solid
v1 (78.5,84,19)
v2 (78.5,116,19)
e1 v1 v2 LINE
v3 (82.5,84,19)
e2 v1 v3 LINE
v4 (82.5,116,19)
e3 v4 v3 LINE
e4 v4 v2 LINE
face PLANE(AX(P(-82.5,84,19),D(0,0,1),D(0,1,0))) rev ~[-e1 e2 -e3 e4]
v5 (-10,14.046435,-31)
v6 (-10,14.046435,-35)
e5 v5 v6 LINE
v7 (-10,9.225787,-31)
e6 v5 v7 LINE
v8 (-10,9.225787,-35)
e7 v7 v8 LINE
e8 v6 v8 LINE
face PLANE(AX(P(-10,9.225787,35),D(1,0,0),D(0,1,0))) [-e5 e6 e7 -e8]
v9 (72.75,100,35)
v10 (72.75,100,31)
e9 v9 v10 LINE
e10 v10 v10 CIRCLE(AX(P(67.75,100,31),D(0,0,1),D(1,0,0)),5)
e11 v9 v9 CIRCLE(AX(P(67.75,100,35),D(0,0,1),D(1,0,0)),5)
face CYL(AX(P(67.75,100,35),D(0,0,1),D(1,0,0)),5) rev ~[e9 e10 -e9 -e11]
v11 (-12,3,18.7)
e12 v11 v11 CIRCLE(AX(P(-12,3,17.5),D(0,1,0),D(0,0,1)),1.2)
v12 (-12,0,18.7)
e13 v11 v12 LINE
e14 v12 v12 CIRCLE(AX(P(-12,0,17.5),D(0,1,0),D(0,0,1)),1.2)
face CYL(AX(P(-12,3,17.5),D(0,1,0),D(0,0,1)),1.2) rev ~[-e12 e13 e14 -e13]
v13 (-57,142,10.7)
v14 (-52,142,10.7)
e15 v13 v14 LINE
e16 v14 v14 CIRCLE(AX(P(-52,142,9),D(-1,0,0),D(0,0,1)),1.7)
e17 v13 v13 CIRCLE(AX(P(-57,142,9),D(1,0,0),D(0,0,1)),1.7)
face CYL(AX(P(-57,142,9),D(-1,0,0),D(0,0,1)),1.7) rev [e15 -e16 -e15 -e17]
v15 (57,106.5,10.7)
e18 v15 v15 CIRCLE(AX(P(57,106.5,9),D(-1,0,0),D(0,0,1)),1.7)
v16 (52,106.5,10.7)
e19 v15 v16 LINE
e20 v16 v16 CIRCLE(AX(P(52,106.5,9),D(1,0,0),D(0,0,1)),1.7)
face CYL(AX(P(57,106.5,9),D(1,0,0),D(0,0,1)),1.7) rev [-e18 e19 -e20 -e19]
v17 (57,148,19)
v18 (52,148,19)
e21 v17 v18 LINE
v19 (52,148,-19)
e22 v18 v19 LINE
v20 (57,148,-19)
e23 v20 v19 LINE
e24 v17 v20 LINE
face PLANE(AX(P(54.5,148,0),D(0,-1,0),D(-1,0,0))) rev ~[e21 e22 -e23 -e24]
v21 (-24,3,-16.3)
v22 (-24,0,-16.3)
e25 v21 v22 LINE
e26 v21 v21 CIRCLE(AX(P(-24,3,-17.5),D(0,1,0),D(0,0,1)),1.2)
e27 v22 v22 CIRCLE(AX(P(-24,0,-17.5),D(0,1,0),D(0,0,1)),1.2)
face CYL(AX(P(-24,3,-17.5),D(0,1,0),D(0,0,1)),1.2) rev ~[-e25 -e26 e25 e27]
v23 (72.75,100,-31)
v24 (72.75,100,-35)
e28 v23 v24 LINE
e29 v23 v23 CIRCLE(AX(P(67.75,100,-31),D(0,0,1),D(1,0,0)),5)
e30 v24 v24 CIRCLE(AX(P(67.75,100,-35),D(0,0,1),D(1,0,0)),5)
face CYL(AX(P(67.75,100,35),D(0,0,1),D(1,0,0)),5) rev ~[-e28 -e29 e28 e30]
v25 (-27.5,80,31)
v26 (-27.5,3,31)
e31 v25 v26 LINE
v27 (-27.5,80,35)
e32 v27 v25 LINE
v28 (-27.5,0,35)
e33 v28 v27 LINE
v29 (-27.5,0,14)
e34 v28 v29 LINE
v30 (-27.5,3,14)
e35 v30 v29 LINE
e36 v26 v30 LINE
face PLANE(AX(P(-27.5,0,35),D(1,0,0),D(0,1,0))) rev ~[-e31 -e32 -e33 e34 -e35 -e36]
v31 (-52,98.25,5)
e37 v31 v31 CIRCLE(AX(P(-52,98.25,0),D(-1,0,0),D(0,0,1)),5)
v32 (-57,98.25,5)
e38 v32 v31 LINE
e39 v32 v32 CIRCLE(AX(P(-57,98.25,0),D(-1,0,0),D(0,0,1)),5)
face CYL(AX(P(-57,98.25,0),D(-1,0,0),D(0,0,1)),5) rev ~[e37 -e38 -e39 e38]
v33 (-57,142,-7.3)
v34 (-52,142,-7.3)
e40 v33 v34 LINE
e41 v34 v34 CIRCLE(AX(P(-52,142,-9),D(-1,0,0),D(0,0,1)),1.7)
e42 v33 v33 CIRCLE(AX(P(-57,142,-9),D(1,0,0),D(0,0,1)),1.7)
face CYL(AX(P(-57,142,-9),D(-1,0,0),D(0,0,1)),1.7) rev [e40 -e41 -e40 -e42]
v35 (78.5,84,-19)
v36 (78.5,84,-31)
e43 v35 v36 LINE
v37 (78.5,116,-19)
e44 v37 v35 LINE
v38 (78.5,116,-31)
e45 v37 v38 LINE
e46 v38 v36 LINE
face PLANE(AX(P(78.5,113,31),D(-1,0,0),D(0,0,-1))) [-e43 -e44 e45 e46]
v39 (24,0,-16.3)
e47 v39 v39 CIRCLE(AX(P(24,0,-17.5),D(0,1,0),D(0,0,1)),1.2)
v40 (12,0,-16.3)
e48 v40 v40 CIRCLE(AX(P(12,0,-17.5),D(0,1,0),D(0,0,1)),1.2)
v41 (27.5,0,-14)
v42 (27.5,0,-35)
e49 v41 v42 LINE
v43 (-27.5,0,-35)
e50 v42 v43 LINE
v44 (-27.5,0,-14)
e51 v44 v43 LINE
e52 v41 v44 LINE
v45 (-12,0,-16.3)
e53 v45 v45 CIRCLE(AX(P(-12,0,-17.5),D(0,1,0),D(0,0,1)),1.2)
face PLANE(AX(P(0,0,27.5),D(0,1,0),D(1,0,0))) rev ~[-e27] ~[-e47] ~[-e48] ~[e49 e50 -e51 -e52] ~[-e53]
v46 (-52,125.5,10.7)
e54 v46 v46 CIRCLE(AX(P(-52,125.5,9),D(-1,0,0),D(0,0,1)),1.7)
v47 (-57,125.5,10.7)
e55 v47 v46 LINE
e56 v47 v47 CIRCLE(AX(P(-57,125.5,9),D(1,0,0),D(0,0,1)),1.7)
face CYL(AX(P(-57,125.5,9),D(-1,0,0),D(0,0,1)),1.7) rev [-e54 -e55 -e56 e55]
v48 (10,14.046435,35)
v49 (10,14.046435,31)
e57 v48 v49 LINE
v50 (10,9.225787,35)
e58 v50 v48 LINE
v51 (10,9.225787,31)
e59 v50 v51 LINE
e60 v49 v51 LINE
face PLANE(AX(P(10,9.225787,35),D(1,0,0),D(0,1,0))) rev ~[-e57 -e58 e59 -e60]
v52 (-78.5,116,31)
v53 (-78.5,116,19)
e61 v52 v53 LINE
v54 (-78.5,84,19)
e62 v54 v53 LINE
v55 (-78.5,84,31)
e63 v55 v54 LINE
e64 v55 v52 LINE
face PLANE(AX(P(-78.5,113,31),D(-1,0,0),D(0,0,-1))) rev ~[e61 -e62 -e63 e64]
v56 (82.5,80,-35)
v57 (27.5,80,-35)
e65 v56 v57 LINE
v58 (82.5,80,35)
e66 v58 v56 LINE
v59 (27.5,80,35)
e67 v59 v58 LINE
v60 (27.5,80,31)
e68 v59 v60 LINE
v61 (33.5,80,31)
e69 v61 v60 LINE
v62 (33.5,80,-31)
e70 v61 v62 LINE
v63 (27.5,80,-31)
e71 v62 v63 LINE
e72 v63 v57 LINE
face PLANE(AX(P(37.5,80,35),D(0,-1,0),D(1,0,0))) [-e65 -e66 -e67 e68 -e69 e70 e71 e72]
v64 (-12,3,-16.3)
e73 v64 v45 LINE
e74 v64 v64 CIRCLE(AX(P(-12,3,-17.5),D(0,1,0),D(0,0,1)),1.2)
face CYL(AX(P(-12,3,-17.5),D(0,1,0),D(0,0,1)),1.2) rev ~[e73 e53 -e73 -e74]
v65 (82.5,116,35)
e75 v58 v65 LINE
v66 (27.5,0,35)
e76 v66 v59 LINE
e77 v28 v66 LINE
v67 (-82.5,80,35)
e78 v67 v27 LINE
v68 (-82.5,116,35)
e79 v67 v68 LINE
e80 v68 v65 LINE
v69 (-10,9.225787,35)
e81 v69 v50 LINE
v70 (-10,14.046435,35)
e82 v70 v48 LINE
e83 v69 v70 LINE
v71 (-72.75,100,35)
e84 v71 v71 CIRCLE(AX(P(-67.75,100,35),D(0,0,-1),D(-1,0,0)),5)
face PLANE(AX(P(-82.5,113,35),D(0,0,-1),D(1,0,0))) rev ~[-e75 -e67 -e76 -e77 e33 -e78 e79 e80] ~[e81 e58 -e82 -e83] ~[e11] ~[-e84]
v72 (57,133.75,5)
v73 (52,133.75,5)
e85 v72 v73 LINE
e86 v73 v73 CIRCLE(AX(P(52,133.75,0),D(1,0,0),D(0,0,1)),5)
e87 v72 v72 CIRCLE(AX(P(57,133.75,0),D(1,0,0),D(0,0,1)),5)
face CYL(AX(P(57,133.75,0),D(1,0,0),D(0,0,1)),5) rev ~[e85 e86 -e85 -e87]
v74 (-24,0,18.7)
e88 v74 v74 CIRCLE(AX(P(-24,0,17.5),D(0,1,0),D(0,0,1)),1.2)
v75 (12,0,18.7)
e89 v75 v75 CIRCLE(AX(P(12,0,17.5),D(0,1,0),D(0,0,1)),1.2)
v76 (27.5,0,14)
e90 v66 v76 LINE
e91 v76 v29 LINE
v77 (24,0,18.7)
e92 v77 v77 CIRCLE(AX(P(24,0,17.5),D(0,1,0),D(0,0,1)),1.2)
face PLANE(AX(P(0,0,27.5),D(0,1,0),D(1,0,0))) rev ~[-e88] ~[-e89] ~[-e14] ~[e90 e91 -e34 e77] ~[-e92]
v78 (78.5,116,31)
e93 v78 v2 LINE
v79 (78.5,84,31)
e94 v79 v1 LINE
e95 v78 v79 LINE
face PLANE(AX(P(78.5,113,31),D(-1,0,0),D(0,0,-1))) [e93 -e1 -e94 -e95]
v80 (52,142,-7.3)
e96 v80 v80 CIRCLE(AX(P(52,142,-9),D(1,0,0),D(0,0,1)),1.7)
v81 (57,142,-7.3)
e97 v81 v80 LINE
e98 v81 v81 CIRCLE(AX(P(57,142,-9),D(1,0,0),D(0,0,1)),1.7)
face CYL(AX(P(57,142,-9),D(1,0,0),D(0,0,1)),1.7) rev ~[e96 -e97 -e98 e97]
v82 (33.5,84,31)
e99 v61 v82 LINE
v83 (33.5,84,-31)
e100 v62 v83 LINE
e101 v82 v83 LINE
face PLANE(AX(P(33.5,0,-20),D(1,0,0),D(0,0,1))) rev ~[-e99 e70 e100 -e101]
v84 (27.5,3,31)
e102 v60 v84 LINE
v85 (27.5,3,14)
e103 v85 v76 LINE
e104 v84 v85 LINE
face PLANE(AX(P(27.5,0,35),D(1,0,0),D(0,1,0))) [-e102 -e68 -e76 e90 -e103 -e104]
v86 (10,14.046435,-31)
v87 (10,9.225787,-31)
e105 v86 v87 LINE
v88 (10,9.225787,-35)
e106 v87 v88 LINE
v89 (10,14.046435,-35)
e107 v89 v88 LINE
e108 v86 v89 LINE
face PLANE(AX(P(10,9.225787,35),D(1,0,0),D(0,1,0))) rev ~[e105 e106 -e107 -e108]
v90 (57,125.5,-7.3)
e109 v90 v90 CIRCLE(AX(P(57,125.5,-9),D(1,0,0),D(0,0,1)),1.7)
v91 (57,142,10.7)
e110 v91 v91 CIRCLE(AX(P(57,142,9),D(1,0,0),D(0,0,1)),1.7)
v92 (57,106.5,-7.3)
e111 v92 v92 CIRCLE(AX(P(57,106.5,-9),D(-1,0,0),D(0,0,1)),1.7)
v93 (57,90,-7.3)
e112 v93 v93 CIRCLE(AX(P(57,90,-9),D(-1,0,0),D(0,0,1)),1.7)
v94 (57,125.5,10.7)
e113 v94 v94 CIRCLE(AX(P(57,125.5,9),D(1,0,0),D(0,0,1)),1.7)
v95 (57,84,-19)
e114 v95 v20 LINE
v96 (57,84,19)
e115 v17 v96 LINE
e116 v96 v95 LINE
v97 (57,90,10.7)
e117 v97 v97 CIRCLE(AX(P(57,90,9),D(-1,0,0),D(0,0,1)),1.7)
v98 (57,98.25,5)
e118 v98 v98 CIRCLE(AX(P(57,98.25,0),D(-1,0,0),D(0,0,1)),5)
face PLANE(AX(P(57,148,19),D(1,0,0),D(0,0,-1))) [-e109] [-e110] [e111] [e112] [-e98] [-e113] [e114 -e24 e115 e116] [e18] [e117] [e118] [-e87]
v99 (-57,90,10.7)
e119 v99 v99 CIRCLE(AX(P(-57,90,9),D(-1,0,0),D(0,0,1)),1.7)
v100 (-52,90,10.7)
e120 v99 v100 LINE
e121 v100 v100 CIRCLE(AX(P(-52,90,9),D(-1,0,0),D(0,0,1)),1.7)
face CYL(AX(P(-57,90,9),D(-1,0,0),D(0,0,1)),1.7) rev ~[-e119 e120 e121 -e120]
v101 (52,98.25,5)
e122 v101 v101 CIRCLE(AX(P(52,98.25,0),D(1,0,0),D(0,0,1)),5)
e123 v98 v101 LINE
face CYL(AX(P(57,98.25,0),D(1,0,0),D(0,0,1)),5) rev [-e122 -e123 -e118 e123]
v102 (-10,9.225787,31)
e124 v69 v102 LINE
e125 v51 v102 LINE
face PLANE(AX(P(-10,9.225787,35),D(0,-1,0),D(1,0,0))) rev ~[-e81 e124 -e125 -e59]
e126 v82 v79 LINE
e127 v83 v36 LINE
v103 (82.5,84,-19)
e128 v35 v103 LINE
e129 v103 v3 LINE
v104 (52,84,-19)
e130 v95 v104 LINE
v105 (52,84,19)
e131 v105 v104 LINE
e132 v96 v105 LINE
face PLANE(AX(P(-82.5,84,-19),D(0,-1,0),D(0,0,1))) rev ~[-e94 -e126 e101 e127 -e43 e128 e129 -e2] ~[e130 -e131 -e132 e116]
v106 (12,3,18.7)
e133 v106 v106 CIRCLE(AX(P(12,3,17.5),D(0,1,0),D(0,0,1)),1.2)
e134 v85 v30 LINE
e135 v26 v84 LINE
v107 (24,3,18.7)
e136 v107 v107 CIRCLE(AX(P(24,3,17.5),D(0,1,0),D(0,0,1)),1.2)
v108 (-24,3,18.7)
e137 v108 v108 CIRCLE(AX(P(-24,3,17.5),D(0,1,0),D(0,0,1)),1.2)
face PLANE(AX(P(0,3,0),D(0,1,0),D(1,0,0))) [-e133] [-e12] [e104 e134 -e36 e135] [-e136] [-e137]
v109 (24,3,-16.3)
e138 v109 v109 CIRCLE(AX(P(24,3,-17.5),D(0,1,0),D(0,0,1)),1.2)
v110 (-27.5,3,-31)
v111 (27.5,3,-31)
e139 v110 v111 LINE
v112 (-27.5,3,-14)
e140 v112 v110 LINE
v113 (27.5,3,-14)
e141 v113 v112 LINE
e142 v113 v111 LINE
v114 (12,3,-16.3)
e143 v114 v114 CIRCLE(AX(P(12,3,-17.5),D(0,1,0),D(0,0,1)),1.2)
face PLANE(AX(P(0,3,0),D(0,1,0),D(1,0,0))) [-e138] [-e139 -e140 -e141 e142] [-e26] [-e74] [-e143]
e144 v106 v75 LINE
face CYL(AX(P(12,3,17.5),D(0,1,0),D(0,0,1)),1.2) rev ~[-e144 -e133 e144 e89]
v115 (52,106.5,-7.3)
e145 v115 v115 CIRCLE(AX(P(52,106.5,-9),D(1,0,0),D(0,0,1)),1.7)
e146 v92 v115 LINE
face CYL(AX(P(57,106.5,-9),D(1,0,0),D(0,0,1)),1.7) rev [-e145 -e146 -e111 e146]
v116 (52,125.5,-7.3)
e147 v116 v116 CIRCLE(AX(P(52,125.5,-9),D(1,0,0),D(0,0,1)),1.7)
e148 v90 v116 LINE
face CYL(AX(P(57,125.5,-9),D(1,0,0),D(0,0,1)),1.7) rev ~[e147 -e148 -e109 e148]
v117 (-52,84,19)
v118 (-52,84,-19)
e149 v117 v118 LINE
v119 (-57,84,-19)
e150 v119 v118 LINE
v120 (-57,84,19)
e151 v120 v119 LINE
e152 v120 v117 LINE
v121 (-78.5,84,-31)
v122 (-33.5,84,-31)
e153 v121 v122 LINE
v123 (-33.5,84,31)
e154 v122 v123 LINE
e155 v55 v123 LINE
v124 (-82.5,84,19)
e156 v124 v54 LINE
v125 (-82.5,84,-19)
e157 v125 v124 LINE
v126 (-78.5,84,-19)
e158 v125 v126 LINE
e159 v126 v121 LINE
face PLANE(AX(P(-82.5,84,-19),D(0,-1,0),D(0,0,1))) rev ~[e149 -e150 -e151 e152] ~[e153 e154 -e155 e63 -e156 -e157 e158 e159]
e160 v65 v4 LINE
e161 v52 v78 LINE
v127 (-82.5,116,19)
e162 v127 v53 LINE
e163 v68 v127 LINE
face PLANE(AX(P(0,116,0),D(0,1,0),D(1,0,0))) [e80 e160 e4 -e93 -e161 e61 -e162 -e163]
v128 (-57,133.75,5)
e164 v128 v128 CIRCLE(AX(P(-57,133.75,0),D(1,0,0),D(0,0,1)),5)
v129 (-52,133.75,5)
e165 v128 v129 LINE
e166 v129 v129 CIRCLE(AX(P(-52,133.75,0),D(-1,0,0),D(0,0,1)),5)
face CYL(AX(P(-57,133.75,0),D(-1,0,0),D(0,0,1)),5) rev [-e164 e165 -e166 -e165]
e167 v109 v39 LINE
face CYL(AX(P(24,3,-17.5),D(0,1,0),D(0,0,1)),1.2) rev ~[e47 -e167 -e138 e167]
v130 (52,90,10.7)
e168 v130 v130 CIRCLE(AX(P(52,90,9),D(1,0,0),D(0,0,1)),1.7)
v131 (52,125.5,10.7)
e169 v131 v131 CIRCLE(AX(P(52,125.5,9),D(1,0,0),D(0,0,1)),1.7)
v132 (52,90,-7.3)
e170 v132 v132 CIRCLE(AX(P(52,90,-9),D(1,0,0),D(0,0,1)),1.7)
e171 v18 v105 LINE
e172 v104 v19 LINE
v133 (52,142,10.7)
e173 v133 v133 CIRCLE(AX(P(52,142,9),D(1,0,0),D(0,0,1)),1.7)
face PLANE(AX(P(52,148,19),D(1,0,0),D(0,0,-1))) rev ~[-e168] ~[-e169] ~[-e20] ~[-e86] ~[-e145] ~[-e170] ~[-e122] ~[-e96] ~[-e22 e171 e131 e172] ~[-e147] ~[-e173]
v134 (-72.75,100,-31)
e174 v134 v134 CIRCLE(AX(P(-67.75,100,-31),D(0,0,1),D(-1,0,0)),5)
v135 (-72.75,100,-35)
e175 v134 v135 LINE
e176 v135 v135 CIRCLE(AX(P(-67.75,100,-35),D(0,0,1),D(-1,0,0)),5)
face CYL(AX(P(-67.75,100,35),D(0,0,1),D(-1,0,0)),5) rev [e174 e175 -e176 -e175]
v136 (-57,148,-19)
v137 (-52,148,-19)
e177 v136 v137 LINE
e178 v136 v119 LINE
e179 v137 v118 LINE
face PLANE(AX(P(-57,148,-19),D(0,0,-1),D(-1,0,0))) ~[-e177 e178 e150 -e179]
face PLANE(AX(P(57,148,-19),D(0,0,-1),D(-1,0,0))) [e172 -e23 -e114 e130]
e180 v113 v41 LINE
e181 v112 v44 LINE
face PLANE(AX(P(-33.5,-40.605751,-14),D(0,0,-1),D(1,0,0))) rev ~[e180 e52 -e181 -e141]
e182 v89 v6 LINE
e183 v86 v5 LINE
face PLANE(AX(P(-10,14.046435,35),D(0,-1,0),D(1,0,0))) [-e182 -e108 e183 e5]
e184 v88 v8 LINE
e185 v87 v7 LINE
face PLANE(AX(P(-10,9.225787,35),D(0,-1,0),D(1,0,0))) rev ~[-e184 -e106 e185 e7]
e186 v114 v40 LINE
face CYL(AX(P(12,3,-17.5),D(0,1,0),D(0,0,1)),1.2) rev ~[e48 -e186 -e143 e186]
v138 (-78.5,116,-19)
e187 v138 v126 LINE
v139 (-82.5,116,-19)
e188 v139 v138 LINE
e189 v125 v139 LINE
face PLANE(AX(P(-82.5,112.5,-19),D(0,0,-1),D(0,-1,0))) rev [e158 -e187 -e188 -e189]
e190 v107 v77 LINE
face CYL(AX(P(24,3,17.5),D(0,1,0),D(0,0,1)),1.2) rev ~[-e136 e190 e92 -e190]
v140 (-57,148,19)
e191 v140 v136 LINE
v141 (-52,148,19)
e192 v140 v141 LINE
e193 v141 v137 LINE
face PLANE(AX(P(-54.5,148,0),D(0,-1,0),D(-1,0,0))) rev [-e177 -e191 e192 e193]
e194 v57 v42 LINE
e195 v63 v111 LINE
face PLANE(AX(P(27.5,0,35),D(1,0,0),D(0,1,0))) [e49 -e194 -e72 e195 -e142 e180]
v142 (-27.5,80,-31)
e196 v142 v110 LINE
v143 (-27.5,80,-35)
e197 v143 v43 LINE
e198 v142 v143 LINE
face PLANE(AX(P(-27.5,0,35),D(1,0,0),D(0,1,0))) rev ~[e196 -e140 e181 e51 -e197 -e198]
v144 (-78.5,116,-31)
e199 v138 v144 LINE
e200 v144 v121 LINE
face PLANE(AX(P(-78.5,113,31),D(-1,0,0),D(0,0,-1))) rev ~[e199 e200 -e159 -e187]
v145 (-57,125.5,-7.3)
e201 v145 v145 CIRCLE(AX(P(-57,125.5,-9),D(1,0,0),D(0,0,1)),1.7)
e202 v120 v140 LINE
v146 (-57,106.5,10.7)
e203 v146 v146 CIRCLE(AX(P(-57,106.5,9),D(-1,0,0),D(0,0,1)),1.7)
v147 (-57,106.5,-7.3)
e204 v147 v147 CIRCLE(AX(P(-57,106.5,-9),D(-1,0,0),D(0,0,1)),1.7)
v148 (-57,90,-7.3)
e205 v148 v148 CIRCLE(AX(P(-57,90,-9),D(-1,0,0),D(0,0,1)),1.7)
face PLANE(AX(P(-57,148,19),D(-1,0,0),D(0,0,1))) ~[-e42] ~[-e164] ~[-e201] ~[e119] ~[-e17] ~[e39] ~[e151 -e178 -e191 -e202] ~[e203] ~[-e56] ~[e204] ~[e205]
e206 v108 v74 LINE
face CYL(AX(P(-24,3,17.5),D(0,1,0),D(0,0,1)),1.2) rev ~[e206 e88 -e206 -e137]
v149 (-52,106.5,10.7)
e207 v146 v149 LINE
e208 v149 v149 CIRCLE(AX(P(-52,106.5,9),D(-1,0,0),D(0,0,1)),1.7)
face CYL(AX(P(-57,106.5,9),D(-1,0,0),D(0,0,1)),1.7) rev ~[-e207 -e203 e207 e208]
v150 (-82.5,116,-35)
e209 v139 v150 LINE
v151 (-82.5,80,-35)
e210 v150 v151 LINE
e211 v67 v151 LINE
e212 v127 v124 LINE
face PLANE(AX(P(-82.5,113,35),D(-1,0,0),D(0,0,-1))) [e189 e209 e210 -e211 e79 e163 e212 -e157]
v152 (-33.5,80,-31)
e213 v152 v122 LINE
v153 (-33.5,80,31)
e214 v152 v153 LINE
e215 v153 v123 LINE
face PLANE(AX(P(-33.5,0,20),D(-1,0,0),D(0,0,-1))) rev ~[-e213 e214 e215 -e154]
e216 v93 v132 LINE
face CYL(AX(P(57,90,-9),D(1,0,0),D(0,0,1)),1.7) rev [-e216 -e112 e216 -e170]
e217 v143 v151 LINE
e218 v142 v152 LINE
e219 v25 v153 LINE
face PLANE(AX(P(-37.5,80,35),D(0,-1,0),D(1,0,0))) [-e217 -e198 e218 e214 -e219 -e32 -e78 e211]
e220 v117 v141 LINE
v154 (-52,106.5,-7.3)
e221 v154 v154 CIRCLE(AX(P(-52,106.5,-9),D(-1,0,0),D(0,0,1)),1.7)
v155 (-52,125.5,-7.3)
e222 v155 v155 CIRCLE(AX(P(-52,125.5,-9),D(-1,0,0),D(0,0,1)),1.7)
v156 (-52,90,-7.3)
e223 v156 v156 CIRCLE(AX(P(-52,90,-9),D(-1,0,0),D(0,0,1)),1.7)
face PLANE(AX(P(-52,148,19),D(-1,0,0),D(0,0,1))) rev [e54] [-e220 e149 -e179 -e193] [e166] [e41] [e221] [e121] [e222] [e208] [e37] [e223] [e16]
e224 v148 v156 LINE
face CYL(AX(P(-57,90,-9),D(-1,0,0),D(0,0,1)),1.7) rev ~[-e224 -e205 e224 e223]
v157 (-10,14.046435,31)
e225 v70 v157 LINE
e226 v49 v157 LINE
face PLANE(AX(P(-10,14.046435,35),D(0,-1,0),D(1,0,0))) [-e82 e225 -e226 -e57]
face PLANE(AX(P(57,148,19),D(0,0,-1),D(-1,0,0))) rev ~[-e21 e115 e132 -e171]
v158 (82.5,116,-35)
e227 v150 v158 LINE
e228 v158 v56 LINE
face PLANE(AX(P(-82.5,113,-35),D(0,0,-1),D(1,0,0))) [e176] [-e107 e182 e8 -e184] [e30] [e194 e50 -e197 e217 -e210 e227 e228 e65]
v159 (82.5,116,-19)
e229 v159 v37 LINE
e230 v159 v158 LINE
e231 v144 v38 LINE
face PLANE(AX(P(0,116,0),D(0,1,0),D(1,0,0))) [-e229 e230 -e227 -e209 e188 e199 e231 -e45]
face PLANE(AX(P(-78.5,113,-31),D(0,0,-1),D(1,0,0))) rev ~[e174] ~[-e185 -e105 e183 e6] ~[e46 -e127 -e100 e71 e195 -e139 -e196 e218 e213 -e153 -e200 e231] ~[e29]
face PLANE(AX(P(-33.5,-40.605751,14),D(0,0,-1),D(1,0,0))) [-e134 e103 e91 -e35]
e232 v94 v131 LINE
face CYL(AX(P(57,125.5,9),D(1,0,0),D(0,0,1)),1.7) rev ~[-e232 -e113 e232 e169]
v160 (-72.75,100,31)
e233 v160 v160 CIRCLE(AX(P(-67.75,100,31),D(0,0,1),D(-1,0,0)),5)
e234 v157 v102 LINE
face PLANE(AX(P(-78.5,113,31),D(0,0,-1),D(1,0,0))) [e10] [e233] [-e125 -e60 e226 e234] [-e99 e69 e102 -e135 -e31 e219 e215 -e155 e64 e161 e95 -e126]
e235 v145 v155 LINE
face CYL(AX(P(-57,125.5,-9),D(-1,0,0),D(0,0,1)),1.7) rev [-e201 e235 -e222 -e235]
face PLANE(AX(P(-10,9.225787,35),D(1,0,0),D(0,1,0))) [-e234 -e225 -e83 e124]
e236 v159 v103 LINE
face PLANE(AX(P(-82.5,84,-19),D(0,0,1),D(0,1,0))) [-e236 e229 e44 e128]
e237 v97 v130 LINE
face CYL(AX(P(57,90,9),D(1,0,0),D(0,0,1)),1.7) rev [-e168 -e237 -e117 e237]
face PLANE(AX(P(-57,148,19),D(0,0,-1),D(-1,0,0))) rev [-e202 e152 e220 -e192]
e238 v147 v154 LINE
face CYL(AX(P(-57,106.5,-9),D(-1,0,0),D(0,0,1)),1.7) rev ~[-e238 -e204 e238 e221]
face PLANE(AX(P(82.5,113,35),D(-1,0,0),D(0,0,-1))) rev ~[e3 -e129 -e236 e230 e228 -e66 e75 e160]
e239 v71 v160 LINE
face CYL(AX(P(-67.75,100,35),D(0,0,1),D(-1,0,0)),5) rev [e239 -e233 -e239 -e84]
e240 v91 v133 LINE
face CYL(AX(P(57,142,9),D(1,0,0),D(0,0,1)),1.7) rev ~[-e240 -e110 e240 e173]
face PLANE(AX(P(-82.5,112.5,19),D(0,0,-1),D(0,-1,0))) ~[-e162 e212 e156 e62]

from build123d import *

# Parameters (mm, degrees)
SKETCH1_W                 = 75
SKETCH1_H                 = 40
SKETCH1_R                 = 5
SKETCH1_R_2               = 1.7
SKETCH1_W_2               = 10
SKETCH1_H_2               = 20
BOSS_EXTRUDE1_DEPTH       = 3
CUT_EXTRUDE1_DEPTH        = 43.605750786
CUT_EXTRUDE1_DEPTH_BACK   = 43.605750786
SKETCH2_W                 = 67
SKETCH2_H                 = 28
BOSS_EXTRUDE3_DEPTH       = 110
BOSS_EXTRUDE3_DEPTH_BACK  = 3
SKETCH6_W                 = 67
SKETCH6_H                 = 11
CUT_EXTRUDE4_DEPTH        = 122.372360939
SKETCH7_W                 = 70
SKETCH7_H                 = 37
BOSS_EXTRUDE4_DEPTH       = 45
SKETCH8_W                 = 45
SKETCH8_H                 = 62
CUT_EXTRUDE6_DEPTH        = 29
SKETCH11_W                = 45
SKETCH11_H                = 4
CUT_EXTRUDE9_DEPTH        = 157.445677473
SKETCH9_W                 = 38
SKETCH9_H                 = 28.5
CUT_EXTRUDE10_DEPTH       = 204.024629048
SKETCH13_W                = 5
SKETCH13_H                = 38
BOSS_EXTRUDE5_DEPTH       = 32
SKETCH14_R                = 5
SKETCH14_R_2              = 1.7
CUT_EXTRUDE11_DEPTH       = 32
SKETCH15_W                = 165
SKETCH15_H                = 70
SKETCH15_W_2              = 157
SKETCH15_H_2              = 62
BOSS_EXTRUDE6_DEPTH       = 3
SKETCH16_W                = 20
SKETCH16_H                = 4.820648258
CUT_EXTRUDE12_DEPTH       = 159.626132778
SKETCH18_R                = 5
CUT_EXTRUDE14_DEPTH       = 159.626132778
MIRROR6_COPY_1_SKETCH_W   = 5
MIRROR6_COPY_1_SKETCH_H   = 38
MIRROR6_COPY_1_DEPTH      = 32
MIRROR6_COPY_2_SKETCH_R   = 5
MIRROR6_COPY_2_SKETCH_R_2 = 1.7
MIRROR6_COPY_2_DEPTH      = 32
SKETCH19_W                = 38
SKETCH19_H                = 3.5
CUT_EXTRUDE15_DEPTH       = 10
SKETCH20_R                = 1.2
CUT_EXTRUDE16_DEPTH       = 10
SKETCH21_W                = 10
SKETCH21_H                = 80
CUT_EXTRUDE17_DEPTH       = 184.330984833


with BuildPart() as part:
    # Sketch1 → Boss-Extrude1 (new body)
    with BuildSketch(Plane(origin=(0, 0, 0), x_dir=(1, 0, 0), z_dir=(0, 1, 0))):
        Rectangle(SKETCH1_W, SKETCH1_H)
        with Locations(Location((-21, 0, 0), (0, 0, 270))):
            Circle(SKETCH1_R, mode=Mode.SUBTRACT)
        with Locations(Location((-30, 8.25, 0), (0, 0, 270))):
            Circle(SKETCH1_R_2, mode=Mode.SUBTRACT)
        with Locations(Location((-12, 8.25, 0), (0, 0, 270))):
            Circle(SKETCH1_R_2, mode=Mode.SUBTRACT)
        with Locations(Location((-12, -8.25, 0), (0, 0, 270))):
            Circle(SKETCH1_R_2, mode=Mode.SUBTRACT)
        with Locations(Location((-30, -8.25, 0), (0, 0, 270))):
            Circle(SKETCH1_R_2, mode=Mode.SUBTRACT)
        with Locations(Location((12, 8.25, 0), (0, 0, 90))):
            Circle(SKETCH1_R_2, mode=Mode.SUBTRACT)
        with Locations(Location((12, -8.25, 0), (0, 0, 90))):
            Circle(SKETCH1_R_2, mode=Mode.SUBTRACT)
        with Locations(Location((21, 0, 0), (0, 0, 90))):
            Circle(SKETCH1_R, mode=Mode.SUBTRACT)
        with Locations(Location((30, -8.25, 0), (0, 0, 90))):
            Circle(SKETCH1_R_2, mode=Mode.SUBTRACT)
        with Locations(Location((30, 8.25, 0), (0, 0, 90))):
            Circle(SKETCH1_R_2, mode=Mode.SUBTRACT)
        Rectangle(SKETCH1_W_2, SKETCH1_H_2, mode=Mode.SUBTRACT)
    extrude(amount=BOSS_EXTRUDE1_DEPTH)

    # Sketch2 → Cut-Extrude1 (cut, two sides: drawn at the far end of the back side and taken through both)
    with BuildSketch(Plane(origin=(0, 3, 0), x_dir=(1, 0, 0), z_dir=(0, 1, 0)).offset(-CUT_EXTRUDE1_DEPTH_BACK)):
        Rectangle(SKETCH2_W, SKETCH2_H)
    extrude(amount=CUT_EXTRUDE1_DEPTH + CUT_EXTRUDE1_DEPTH_BACK, mode=Mode.SUBTRACT)

    # Sketch3 → Boss-Extrude3 (add, two sides: drawn at the far end of the back side and taken through both)
    with BuildSketch(Plane(origin=(0, 3, 0), x_dir=(1, 0, 0), z_dir=(0, 1, 0)).offset(-BOSS_EXTRUDE3_DEPTH_BACK)):
        Polygon((37.5, -35), (37.5, -20), (33.5, -20), (-33.5, -20), (-37.5, -20), (-37.5, -35), align=None)
        Polygon((33.5, 20), (37.5, 20), (37.5, 35), (-37.5, 35), (-37.5, 20), (-33.5, 20), align=None)
        Polygon((37.5, -20), (37.5, 20), (33.5, 20), (33.5, 14), (33.5, -14), (33.5, -20), align=None)
        Polygon((-33.5, 14), (-33.5, 20), (-37.5, 20), (-37.5, -20), (-33.5, -20), (-33.5, -14), align=None)
    extrude(amount=BOSS_EXTRUDE3_DEPTH + BOSS_EXTRUDE3_DEPTH_BACK)

    # Sketch6 → Cut-Extrude4 (cut, through all)
    with BuildSketch(Plane(origin=(0, 3, 0), x_dir=(1, 0, 0), z_dir=(0, 1, 0))):
        with Locations((0, -25.5)):
            Rectangle(SKETCH6_W, SKETCH6_H)
        with Locations((0, 25.5)):
            Rectangle(SKETCH6_W, SKETCH6_H)
    extrude(amount=CUT_EXTRUDE4_DEPTH, mode=Mode.SUBTRACT)

    # Sketch7 → Boss-Extrude4 (add)
    with BuildSketch(Plane.ZY.offset(37.5)):
        with Locations((0, 94.5)):
            Rectangle(SKETCH7_W, SKETCH7_H)
    boss_extrude4 = extrude(amount=BOSS_EXTRUDE4_DEPTH)

    # Mirror2: Boss-Extrude4 across plane
    add(boss_extrude4.mirror(Plane(origin=(0, 0, 0), x_dir=(0, 0, 1), z_dir=(1, 0, 0))))

    # Sketch8 → Cut-Extrude6 (cut)
    with BuildSketch(Plane(origin=(0, 113, 0), x_dir=(1, 0, 0), z_dir=(0, 1, 0))):
        with Locations((-56, 0)):
            Rectangle(SKETCH8_W, SKETCH8_H)
        with Locations((56, 0)):
            Rectangle(SKETCH8_W, SKETCH8_H)
    extrude(amount=-CUT_EXTRUDE6_DEPTH, mode=Mode.SUBTRACT)

    # Sketch11 → Cut-Extrude9 (cut, through all)
    with BuildSketch(Plane.XY.offset(35)):
        with Locations((-60, 78)):
            Rectangle(SKETCH11_W, SKETCH11_H)
        with Locations((60, 78)):
            Rectangle(SKETCH11_W, SKETCH11_H)
    extrude(amount=-CUT_EXTRUDE9_DEPTH, mode=Mode.SUBTRACT)

    # Sketch9 → Cut-Extrude10 (cut, through all)
    with BuildSketch(Plane.ZY.offset(82.5)):
        with Locations((0, 98.25)):
            Rectangle(SKETCH9_W, SKETCH9_H)
    extrude(amount=-CUT_EXTRUDE10_DEPTH, mode=Mode.SUBTRACT)

    # Sketch13 → Boss-Extrude5 (add)
    with BuildSketch(Plane(origin=(0, 84, 0), x_dir=(1, 0, 0), z_dir=(0, 1, 0))):
        with Locations((-54.5, 0)):
            Rectangle(SKETCH13_W, SKETCH13_H)
    boss_extrude5 = extrude(amount=BOSS_EXTRUDE5_DEPTH)

    # Sketch14 → Cut-Extrude11 (cut)
    with BuildSketch(Plane.ZY.offset(57)):
        with Locations((0, 98.25)):
            Circle(SKETCH14_R)
        with Locations((-9, 106.5)):
            Circle(SKETCH14_R_2)
        with Locations((9, 106.5)):
            Circle(SKETCH14_R_2)
        with Locations((9, 90)):
            Circle(SKETCH14_R_2)
        with Locations((-9, 90)):
            Circle(SKETCH14_R_2)
    cut_extrude11 = extrude(amount=-CUT_EXTRUDE11_DEPTH, mode=Mode.SUBTRACT)

    # Mirror4: Boss-Extrude5, Cut-Extrude11 across plane
    add(boss_extrude5.mirror(Plane(origin=(0, 0, 0), x_dir=(0, 0, 1), z_dir=(1, 0, 0))))
    add(cut_extrude11.mirror(Plane(origin=(0, 0, 0), x_dir=(0, 0, 1), z_dir=(1, 0, 0))), mode=Mode.SUBTRACT)

    # Sketch15 → Boss-Extrude6 (add)
    with BuildSketch(Plane(origin=(0, 113, 0), x_dir=(1, 0, 0), z_dir=(0, 1, 0))):
        Rectangle(SKETCH15_W, SKETCH15_H)
        Rectangle(SKETCH15_W_2, SKETCH15_H_2, mode=Mode.SUBTRACT)
    extrude(amount=BOSS_EXTRUDE6_DEPTH)

    # Sketch16 → Cut-Extrude12 (cut, through all)
    with BuildSketch(Plane.XY.offset(35)):
        with Locations((0, 11.636111214)):
            Rectangle(SKETCH16_W, SKETCH16_H)
    extrude(amount=-CUT_EXTRUDE12_DEPTH, mode=Mode.SUBTRACT)

    # Sketch18 → Cut-Extrude14 (cut, through all)
    with BuildSketch(Plane.XY.offset(35)):
        with Locations((67.75, 100)):
            Circle(SKETCH18_R)
    cut_extrude14 = extrude(amount=-CUT_EXTRUDE14_DEPTH, mode=Mode.SUBTRACT)

    # Mirror5: Cut-Extrude14 across plane
    add(cut_extrude14.mirror(Plane(origin=(0, 0, 0), x_dir=(0, 0, 1), z_dir=(1, 0, 0))), mode=Mode.SUBTRACT)

    # Mirror6: Boss-Extrude5, Cut-Extrude11 across plane
    add(boss_extrude5.mirror(Plane.ZX.offset(116)))
    add(cut_extrude11.mirror(Plane.ZX.offset(116)), mode=Mode.SUBTRACT)

    # Mirror6 copy 1 sketch → Mirror6 copy 1 (add)
    with BuildSketch(Plane(origin=(0, 148, 0), x_dir=(-1, 0, 0), z_dir=(0, -1, 0))):
        with Locations((-54.5, 0)):
            Rectangle(MIRROR6_COPY_1_SKETCH_W, MIRROR6_COPY_1_SKETCH_H)
    extrude(amount=MIRROR6_COPY_1_DEPTH)

    # Mirror6 copy 2 sketch → Mirror6 copy 2 (cut)
    with BuildSketch(Plane(origin=(57, 232, 0), x_dir=(0, 0, 1), z_dir=(1, 0, 0))):
        with Locations((0, 98.25)):
            Circle(MIRROR6_COPY_2_SKETCH_R)
        with Locations((-9, 106.5)):
            Circle(MIRROR6_COPY_2_SKETCH_R_2)
        with Locations((9, 106.5)):
            Circle(MIRROR6_COPY_2_SKETCH_R_2)
        with Locations((9, 90)):
            Circle(MIRROR6_COPY_2_SKETCH_R_2)
        with Locations((-9, 90)):
            Circle(MIRROR6_COPY_2_SKETCH_R_2)
    extrude(amount=-MIRROR6_COPY_2_DEPTH, mode=Mode.SUBTRACT)

    # Sketch19 → Cut-Extrude15 (cut)
    with BuildSketch(Plane(origin=(82.5, 0, 0), x_dir=(0, 0, -1), z_dir=(1, 0, 0))):
        with Locations((0, 114.25)):
            Rectangle(SKETCH19_W, SKETCH19_H)
    cut_extrude15 = extrude(amount=-CUT_EXTRUDE15_DEPTH, mode=Mode.SUBTRACT)

    # Mirror7: Cut-Extrude15 across plane
    add(cut_extrude15.mirror(Plane(origin=(0, 0, 0), x_dir=(0, 0, 1), z_dir=(1, 0, 0))), mode=Mode.SUBTRACT)

    # Sketch20 → Cut-Extrude16 (cut)
    with BuildSketch(Plane(origin=(0, 3, 0), x_dir=(1, 0, 0), z_dir=(0, 1, 0))):
        with Locations(Location((-24, 17.5, 0), (0, 0, 270))):
            Circle(SKETCH20_R)
        with Locations(Location((-12, 17.5, 0), (0, 0, 270))):
            Circle(SKETCH20_R)
        with Locations(Location((12, 17.5, 0), (0, 0, 270))):
            Circle(SKETCH20_R)
        with Locations(Location((-24, -17.5, 0), (0, 0, 270))):
            Circle(SKETCH20_R)
        with Locations(Location((-12, -17.5, 0), (0, 0, 270))):
            Circle(SKETCH20_R)
        with Locations(Location((24, 17.5, 0), (0, 0, 270))):
            Circle(SKETCH20_R)
        with Locations(Location((12, -17.5, 0), (0, 0, 270))):
            Circle(SKETCH20_R)
        with Locations(Location((24, -17.5, 0), (0, 0, 270))):
            Circle(SKETCH20_R)
    extrude(amount=-CUT_EXTRUDE16_DEPTH, mode=Mode.SUBTRACT)

    # Sketch21 → Cut-Extrude17 (cut, through all)
    with BuildSketch(Plane.XY.offset(35)):
        with Locations((32.5, 40)):
            Rectangle(SKETCH21_W, SKETCH21_H)
        with Locations((-32.5, 40)):
            Rectangle(SKETCH21_W, SKETCH21_H)
    extrude(amount=-CUT_EXTRUDE17_DEPTH, mode=Mode.SUBTRACT)


solid = part.part
